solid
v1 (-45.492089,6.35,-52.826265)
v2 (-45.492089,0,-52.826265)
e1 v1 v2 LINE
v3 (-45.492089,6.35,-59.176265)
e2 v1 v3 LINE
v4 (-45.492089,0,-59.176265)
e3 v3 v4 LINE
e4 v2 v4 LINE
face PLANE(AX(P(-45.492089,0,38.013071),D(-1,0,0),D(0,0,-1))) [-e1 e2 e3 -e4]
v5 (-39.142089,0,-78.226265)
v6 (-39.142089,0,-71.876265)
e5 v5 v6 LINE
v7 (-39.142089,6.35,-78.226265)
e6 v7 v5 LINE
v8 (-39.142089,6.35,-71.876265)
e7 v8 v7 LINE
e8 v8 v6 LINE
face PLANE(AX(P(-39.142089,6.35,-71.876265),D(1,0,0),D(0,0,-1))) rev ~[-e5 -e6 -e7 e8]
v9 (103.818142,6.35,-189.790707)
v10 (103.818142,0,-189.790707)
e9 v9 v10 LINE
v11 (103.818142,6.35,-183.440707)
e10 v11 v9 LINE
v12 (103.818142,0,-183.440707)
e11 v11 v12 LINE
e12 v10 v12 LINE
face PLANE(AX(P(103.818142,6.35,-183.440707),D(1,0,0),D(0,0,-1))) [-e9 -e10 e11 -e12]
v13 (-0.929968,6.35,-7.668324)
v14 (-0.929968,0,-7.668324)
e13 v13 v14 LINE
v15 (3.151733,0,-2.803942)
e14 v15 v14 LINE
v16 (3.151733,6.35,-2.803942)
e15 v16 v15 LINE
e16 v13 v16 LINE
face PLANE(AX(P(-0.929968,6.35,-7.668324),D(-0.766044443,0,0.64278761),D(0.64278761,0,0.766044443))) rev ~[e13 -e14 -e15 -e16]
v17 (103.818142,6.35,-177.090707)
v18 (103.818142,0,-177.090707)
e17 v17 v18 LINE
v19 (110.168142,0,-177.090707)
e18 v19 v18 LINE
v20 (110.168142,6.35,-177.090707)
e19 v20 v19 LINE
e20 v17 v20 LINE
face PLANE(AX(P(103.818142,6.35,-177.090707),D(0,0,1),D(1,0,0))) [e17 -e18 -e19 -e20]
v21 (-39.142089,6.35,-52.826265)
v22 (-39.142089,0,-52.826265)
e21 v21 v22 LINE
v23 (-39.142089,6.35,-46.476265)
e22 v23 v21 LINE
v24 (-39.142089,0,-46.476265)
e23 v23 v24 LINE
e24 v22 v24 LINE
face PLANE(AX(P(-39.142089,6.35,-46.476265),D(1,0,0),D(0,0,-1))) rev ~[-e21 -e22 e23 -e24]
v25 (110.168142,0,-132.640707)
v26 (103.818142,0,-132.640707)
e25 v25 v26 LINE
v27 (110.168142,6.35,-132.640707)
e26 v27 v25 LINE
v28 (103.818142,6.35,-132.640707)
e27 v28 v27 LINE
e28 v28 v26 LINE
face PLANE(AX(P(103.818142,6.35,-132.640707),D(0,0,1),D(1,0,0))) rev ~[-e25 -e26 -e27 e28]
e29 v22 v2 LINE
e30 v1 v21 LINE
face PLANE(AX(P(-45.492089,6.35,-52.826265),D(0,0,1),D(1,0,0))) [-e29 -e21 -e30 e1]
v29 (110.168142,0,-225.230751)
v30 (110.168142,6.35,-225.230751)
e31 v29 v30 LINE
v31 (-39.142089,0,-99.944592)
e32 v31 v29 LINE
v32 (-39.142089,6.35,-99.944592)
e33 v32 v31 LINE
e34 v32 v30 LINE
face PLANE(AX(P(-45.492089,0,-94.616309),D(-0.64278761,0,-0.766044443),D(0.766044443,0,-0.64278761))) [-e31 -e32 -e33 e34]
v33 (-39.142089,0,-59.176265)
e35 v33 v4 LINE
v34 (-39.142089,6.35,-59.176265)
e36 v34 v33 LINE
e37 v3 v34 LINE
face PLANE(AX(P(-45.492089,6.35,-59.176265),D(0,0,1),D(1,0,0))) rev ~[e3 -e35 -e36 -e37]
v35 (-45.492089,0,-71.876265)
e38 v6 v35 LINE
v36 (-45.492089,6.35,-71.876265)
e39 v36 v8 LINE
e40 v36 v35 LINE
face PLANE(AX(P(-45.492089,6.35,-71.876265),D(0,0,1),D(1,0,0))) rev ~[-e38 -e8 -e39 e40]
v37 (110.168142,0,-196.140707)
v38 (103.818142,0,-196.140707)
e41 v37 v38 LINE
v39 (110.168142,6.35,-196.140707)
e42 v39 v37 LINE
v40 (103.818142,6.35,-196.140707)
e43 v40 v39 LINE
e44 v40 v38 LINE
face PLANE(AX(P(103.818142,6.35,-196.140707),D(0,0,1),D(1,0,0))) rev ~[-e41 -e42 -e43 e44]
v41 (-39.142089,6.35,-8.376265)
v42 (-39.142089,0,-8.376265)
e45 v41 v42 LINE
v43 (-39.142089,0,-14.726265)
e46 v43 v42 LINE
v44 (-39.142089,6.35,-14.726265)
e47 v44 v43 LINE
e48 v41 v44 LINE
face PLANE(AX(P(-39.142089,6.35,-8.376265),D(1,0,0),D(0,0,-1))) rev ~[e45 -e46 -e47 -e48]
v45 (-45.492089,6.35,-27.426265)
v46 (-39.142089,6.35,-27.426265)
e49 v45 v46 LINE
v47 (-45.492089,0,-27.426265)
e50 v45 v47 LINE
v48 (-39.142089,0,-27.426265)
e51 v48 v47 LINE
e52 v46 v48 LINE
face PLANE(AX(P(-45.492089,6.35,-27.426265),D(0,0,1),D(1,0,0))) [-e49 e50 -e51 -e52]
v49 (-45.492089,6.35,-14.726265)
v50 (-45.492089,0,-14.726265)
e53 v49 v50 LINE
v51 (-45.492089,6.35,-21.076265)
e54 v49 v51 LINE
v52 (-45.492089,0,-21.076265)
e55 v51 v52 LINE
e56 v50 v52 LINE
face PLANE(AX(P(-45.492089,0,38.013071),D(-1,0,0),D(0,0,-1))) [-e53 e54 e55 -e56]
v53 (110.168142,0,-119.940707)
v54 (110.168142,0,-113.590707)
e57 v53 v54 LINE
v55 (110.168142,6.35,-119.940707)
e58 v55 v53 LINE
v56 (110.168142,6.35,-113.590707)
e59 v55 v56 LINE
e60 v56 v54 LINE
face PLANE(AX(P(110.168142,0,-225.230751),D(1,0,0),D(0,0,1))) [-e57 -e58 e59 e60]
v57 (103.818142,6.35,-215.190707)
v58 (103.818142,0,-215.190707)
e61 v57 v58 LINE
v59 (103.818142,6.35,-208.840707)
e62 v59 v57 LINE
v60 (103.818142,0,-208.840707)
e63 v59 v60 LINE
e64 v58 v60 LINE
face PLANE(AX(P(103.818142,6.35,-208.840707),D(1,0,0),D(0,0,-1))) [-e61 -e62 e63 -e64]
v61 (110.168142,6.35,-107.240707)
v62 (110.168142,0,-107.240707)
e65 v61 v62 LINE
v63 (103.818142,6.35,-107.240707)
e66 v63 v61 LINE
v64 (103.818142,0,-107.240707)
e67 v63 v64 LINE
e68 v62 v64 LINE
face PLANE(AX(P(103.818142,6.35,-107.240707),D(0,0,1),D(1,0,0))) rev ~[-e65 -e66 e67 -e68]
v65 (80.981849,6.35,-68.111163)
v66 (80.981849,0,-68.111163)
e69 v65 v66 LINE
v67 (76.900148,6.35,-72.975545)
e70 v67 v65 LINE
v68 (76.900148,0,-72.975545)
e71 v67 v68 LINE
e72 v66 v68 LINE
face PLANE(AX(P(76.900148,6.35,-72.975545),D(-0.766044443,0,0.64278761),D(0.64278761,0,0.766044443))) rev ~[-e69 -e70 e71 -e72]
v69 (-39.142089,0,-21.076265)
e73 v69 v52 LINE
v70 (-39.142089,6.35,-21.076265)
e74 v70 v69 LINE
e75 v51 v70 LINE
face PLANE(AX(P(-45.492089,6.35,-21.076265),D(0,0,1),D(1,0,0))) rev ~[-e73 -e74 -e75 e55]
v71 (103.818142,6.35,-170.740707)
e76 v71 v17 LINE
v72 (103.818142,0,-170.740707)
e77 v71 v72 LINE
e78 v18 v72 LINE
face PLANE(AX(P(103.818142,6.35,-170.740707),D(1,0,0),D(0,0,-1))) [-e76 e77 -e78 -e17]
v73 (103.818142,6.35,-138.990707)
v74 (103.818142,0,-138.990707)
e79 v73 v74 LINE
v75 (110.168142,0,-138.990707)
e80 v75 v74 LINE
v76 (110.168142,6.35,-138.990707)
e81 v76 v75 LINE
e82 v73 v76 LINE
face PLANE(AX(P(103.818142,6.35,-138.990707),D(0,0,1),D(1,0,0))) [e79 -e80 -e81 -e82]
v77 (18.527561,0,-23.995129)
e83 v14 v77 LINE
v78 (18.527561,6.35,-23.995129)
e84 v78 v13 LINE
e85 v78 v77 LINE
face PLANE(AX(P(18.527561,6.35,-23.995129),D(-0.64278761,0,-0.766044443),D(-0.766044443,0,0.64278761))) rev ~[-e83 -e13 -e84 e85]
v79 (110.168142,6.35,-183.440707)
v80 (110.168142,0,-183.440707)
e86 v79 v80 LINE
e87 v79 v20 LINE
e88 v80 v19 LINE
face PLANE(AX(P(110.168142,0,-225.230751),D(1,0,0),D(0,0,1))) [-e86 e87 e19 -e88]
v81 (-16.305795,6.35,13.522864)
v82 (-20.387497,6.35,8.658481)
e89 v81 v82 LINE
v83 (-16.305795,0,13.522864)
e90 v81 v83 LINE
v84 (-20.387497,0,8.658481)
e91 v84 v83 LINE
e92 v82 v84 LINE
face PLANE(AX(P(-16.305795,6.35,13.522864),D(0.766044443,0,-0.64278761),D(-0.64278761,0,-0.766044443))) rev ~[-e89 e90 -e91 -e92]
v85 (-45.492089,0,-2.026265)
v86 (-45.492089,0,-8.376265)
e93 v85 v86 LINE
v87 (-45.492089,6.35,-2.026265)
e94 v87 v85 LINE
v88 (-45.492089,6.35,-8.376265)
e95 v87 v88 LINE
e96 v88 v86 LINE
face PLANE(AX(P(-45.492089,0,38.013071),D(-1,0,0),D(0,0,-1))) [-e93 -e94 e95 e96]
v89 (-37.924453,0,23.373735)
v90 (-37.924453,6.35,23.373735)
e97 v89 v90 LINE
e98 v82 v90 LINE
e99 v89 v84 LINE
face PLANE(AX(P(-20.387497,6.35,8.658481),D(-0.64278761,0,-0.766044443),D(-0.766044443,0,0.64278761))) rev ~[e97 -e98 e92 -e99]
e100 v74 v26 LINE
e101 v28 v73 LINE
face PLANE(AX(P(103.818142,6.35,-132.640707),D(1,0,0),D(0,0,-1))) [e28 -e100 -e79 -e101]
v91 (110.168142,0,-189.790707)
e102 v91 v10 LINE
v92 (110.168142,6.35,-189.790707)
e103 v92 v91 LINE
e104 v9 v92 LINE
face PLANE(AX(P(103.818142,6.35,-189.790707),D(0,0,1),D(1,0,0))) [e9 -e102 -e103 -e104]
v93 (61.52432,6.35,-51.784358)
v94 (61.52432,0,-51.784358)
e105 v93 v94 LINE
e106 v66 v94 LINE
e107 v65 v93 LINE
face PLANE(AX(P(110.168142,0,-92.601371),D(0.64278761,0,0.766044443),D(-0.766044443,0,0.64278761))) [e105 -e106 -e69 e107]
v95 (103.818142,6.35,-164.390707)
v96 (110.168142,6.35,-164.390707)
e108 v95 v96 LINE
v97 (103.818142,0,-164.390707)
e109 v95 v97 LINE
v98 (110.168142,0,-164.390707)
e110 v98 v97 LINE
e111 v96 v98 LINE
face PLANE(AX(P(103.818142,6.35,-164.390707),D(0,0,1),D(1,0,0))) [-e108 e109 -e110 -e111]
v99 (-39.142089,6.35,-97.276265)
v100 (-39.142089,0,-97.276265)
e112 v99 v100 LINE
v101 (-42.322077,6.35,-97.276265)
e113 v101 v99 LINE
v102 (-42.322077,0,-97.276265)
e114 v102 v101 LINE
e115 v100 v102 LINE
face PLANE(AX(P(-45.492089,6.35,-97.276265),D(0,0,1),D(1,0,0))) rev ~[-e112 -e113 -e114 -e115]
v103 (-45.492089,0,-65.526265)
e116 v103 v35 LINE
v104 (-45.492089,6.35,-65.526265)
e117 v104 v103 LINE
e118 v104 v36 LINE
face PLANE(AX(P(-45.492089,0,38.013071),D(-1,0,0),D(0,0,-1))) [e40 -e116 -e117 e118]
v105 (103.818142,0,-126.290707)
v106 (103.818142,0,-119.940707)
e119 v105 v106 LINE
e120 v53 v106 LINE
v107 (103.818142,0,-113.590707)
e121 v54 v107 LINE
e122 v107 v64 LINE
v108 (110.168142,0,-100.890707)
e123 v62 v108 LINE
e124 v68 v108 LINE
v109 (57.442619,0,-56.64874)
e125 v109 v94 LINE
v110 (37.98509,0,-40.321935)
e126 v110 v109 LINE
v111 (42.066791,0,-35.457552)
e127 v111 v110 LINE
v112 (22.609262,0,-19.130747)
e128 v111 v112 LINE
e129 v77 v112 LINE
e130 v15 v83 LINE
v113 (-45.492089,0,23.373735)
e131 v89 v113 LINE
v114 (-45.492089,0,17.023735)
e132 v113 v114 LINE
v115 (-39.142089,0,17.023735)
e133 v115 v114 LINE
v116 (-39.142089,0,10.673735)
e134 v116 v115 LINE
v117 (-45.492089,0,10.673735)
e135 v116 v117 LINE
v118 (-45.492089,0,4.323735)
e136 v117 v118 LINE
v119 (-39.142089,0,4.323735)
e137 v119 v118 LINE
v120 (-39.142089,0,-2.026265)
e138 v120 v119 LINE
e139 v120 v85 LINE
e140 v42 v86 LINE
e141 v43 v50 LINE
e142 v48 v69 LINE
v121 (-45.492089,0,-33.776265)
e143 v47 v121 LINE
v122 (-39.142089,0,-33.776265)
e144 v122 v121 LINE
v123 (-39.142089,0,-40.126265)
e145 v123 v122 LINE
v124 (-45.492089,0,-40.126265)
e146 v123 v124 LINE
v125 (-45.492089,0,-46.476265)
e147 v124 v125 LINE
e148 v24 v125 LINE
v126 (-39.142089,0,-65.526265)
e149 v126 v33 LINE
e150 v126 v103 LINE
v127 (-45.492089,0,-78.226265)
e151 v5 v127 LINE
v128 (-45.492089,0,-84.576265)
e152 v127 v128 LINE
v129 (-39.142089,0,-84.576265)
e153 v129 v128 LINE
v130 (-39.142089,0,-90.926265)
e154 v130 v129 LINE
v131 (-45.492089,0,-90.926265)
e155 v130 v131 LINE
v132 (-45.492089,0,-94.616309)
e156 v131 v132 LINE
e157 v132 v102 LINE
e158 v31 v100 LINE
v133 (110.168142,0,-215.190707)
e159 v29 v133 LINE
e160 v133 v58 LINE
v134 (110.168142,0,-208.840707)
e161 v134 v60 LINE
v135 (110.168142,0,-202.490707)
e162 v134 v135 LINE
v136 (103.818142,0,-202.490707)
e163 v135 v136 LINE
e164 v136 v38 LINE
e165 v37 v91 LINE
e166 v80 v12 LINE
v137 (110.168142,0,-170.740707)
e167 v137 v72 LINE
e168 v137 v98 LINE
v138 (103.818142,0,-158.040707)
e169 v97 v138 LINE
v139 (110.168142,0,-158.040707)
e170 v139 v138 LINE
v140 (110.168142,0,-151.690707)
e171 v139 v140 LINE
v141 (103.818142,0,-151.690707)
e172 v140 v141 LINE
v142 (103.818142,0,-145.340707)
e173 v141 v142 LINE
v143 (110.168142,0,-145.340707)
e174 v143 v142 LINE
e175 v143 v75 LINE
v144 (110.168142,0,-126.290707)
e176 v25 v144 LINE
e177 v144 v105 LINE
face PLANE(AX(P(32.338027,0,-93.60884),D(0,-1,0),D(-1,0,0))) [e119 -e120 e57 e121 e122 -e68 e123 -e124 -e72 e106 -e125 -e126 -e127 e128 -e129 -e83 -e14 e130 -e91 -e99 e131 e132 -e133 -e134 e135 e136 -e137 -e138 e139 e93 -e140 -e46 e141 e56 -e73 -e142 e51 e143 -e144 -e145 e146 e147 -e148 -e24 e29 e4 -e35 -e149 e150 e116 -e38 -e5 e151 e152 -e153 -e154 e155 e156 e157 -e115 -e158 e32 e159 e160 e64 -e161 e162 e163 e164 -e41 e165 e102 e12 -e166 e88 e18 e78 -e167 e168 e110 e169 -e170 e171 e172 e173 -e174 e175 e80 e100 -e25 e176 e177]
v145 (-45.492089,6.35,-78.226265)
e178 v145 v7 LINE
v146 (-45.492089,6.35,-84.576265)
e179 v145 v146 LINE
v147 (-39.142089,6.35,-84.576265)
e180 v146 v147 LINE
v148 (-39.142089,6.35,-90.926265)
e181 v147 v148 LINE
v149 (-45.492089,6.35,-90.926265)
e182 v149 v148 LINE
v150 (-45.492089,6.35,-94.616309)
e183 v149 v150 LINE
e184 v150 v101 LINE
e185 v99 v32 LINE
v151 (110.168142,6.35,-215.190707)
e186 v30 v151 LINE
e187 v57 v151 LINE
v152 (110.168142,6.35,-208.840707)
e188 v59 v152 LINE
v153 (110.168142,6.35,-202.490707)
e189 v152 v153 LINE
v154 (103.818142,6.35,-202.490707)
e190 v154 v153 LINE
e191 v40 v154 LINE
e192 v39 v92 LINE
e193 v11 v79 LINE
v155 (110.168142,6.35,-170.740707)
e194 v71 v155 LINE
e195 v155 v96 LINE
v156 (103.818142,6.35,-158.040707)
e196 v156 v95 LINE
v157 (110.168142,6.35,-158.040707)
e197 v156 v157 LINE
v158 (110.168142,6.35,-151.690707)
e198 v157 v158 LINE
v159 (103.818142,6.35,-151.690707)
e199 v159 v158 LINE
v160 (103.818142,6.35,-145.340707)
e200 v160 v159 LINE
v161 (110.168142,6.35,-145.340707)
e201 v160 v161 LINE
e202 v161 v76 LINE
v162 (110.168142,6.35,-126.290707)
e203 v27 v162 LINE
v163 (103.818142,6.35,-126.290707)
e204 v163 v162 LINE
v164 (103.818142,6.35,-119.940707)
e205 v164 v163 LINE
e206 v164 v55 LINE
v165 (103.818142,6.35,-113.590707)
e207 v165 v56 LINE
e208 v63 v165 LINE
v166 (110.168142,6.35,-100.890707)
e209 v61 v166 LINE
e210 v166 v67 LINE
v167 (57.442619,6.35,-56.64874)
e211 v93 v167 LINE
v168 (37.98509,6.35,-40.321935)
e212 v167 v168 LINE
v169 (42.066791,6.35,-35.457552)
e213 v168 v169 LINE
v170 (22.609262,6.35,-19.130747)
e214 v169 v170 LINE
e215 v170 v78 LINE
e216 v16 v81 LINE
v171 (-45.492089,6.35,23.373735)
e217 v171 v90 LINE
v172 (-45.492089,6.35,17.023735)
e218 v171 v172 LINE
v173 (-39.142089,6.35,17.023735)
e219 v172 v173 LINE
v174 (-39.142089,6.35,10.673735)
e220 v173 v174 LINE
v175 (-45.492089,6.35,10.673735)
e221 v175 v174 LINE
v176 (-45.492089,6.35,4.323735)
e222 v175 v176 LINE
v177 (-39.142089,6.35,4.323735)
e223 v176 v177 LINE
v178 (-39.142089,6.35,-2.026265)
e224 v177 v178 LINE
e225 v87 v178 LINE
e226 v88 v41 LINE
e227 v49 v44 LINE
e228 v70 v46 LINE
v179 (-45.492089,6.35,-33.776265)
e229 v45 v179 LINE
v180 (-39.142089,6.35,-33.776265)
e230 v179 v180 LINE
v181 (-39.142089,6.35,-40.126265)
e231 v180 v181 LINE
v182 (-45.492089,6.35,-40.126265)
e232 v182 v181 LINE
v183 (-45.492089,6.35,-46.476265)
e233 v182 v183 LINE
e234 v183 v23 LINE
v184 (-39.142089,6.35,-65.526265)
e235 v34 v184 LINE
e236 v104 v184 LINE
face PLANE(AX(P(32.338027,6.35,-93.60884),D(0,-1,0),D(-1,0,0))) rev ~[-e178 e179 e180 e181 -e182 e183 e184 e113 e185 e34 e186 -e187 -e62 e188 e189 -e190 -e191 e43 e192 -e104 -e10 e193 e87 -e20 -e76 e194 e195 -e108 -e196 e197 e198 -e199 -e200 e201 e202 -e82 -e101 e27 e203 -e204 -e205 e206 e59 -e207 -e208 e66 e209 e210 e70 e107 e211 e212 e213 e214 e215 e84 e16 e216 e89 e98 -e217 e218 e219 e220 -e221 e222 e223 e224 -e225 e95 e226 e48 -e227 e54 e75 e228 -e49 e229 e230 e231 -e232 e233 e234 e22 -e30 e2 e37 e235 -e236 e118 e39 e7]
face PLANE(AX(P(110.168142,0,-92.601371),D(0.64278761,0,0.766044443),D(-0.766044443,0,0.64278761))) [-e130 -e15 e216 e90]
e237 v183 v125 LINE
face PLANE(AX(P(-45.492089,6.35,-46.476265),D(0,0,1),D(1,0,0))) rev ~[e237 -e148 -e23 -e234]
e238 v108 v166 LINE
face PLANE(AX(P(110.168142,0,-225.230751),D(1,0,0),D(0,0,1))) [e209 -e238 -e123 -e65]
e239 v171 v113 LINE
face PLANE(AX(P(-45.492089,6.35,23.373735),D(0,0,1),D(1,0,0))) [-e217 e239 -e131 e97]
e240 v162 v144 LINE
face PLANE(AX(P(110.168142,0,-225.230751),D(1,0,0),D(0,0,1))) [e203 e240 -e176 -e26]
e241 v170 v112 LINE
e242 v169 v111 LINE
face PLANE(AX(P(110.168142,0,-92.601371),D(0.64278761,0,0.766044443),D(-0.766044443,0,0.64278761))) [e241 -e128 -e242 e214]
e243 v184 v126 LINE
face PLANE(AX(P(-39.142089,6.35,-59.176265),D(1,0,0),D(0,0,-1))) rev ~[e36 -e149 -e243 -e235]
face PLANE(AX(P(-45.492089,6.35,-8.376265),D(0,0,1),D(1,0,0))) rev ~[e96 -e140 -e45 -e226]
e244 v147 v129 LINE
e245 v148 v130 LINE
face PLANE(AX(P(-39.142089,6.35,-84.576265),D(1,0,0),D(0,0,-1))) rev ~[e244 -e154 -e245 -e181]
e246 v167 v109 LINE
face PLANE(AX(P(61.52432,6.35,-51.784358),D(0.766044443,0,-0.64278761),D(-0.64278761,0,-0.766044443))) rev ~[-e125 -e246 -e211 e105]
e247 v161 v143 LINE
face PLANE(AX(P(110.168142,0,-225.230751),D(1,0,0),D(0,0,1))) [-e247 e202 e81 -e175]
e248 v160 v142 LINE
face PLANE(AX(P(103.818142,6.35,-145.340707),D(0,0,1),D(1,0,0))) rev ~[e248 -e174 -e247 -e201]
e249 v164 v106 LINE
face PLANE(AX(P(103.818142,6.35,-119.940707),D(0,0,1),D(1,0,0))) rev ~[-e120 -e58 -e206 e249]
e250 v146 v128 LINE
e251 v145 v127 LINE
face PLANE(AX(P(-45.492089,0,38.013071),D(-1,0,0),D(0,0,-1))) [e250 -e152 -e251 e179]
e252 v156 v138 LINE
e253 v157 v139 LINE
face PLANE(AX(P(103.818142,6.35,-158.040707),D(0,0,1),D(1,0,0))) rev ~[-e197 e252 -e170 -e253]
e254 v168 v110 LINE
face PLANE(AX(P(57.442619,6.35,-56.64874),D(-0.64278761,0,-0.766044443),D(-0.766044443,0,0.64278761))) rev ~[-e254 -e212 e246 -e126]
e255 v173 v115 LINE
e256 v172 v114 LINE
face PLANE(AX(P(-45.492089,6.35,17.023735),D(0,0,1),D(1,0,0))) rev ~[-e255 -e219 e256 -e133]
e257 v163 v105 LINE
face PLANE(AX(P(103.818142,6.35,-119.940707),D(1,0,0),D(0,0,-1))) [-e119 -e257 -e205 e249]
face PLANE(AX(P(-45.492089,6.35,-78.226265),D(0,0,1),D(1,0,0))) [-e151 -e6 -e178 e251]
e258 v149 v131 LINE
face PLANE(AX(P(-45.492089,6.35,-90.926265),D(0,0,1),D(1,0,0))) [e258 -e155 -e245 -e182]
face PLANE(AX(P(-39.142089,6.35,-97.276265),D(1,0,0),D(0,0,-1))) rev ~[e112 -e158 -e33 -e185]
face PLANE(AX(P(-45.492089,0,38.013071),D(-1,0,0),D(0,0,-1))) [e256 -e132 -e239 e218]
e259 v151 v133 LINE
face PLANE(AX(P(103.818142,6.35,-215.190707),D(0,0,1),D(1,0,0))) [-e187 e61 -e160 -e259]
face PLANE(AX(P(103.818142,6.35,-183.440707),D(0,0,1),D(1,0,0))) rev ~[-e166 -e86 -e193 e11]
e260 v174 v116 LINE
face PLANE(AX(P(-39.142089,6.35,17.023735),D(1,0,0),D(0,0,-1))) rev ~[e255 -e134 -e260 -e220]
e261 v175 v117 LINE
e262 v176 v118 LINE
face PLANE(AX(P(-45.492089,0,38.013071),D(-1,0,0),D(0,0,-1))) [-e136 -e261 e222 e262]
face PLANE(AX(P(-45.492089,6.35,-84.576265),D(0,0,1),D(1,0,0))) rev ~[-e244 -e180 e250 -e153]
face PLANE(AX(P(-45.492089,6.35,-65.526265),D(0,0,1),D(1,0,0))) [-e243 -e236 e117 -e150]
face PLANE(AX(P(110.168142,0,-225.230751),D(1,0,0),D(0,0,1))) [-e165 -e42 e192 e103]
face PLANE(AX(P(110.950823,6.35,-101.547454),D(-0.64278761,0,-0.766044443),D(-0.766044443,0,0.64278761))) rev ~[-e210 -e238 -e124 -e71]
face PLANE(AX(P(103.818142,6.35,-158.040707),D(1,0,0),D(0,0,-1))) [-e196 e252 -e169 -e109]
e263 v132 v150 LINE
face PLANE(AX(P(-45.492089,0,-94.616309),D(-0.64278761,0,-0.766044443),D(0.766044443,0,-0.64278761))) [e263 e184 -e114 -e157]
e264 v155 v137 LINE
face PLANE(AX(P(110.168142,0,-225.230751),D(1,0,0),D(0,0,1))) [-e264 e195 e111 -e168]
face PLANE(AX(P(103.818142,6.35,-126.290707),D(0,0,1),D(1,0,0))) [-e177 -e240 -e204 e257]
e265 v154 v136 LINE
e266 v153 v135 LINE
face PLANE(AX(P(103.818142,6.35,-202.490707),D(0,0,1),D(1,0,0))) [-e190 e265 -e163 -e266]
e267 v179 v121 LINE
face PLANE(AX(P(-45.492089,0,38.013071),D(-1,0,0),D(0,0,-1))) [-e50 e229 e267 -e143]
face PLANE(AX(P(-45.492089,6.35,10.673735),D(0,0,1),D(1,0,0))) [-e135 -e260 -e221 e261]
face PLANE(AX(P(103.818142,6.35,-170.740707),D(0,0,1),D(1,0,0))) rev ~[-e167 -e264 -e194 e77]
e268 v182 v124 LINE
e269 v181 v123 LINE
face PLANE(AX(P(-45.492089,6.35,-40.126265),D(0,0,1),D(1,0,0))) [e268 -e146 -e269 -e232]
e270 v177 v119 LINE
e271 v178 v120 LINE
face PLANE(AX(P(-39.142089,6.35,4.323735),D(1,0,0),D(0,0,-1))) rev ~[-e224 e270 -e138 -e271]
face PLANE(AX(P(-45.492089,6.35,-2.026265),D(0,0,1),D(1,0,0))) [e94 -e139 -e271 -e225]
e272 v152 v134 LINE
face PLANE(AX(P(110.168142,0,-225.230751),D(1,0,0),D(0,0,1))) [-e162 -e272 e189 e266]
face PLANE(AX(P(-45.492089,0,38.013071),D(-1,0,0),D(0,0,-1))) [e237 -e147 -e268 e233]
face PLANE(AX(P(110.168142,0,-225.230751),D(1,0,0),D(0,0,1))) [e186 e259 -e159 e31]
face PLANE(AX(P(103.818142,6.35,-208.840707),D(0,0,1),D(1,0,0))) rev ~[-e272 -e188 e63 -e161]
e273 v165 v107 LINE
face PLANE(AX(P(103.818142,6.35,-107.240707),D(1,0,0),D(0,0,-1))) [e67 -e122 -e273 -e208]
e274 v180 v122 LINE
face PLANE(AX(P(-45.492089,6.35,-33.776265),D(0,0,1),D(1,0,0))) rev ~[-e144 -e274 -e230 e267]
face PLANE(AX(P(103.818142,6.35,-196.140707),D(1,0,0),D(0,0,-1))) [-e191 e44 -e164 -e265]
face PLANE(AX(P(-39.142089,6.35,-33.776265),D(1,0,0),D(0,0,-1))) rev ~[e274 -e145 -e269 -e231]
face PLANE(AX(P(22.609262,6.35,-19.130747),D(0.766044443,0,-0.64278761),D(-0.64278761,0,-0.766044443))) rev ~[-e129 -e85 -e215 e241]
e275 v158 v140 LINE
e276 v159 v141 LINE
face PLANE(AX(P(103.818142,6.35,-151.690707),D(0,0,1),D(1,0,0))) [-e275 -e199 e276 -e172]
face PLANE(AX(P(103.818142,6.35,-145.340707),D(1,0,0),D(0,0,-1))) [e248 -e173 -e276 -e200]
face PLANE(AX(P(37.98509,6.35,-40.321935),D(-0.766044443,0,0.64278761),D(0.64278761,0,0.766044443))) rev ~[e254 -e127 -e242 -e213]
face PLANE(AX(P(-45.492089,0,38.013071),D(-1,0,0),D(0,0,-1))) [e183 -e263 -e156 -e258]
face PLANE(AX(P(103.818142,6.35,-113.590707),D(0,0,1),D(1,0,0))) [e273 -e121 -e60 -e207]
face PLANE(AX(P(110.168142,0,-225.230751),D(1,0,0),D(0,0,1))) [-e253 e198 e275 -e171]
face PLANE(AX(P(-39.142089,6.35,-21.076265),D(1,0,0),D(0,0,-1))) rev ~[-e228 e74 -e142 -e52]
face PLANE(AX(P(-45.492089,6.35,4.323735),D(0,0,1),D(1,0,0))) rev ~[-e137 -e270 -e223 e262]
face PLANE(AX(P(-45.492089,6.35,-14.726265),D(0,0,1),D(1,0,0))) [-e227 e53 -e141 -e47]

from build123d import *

# Parameters (mm, degrees)
BOSS_EXTRUDE1_DEPTH = 6.35
CUT_EXTRUDE1_DEPTH  = 7.35
SKETCH3_W           = 6.35
SKETCH3_H           = 6.35
CUT_EXTRUDE2_DEPTH  = 7.35
SKETCH4_W           = 12.7
SKETCH4_H           = 6.35
SKETCH4_W_2         = 6.35
CUT_EXTRUDE3_DEPTH  = 7.35


with BuildPart() as part:
    # Sketch1 → Boss-Extrude1 (new body)
    with BuildSketch(Plane(origin=(0, 0, 0), x_dir=(1, 0, 0), z_dir=(0, 1, 0))):
        Polygon((-45.492088676, -38.013071454), (-45.492088676, 94.616309142), (110.168142166, 225.23075143), (110.168142166, 92.601370834), align=None)
    extrude(amount=BOSS_EXTRUDE1_DEPTH)

    # Sketch2 → Cut-Extrude1 (cut, through all)
    with BuildSketch(Plane(origin=(0, 6.35, 0), x_dir=(1, 0, 0), z_dir=(0, 1, 0))):
        Polygon((-45.492088676, -38.013071454), (-16.305795393, -13.522863525), (-20.387496714, -8.658481312), (-49.573789997, -33.148689241), align=None)
        Polygon((-0.929967859, 7.668323974), (3.151733462, 2.803941761), (22.609262318, 19.130747047), (18.527560996, 23.995129261), align=None)
        Polygon((37.985089851, 40.321934547), (42.066791173, 35.457552333), (61.524320028, 51.784357619), (57.442618706, 56.648739833), align=None)
        Polygon((80.981848883, 68.111162905), (115.03252438, 96.683072155), (110.950823058, 101.547454369), (76.900147562, 72.975545119), align=None)
    extrude(amount=-CUT_EXTRUDE1_DEPTH, mode=Mode.SUBTRACT)

    # Sketch3 → Cut-Extrude2 (cut, through all)
    with BuildSketch(Plane(origin=(0, 6.35, 0), x_dir=(1, 0, 0), z_dir=(0, 1, 0))):
        with Locations((106.993142166, 135.815707121)):
            Rectangle(SKETCH3_W, SKETCH3_H)
        with Locations((106.993142166, 123.115707121)):
            Rectangle(SKETCH3_W, SKETCH3_H)
        with Locations((106.993142166, 110.415707121)):
            Rectangle(SKETCH3_W, SKETCH3_H)
        with Locations((106.993142166, 148.515707121)):
            Rectangle(SKETCH3_W, SKETCH3_H)
        with Locations((106.993142166, 173.915707121)):
            Rectangle(SKETCH3_W, SKETCH3_H)
        with Locations((106.993142166, 186.615707121)):
            Rectangle(SKETCH3_W, SKETCH3_H)
        with Locations((106.993142166, 212.015707121)):
            Rectangle(SKETCH3_W, SKETCH3_H)
        with Locations((106.993142166, 161.215707121)):
            Rectangle(SKETCH3_W, SKETCH3_H)
        with Locations((106.993142166, 199.315707121)):
            Rectangle(SKETCH3_W, SKETCH3_H)
    extrude(amount=-CUT_EXTRUDE2_DEPTH, mode=Mode.SUBTRACT)

    # Sketch4 → Cut-Extrude3 (cut, through all)
    with BuildSketch(Plane(origin=(0, 6.35, 0), x_dir=(1, 0, 0), z_dir=(0, 1, 0))):
        with Locations((-39.142088676, -26.548735167)):
            Rectangle(SKETCH4_W, SKETCH4_H)
        with Locations((-42.317088676, -1.148735167)):
            Rectangle(SKETCH4_W_2, SKETCH4_H)
        with Locations((-42.317088676, -13.848735167)):
            Rectangle(SKETCH4_W_2, SKETCH4_H)
        with Locations((-42.317088676, 11.551264833)):
            Rectangle(SKETCH4_W_2, SKETCH4_H)
        with Locations((-42.317088676, 24.251264833)):
            Rectangle(SKETCH4_W_2, SKETCH4_H)
        with Locations((-42.317088676, 36.951264833)):
            Rectangle(SKETCH4_W_2, SKETCH4_H)
        with Locations((-42.317088676, 49.651264833)):
            Rectangle(SKETCH4_W_2, SKETCH4_H)
        with Locations((-42.317088676, 62.351264833)):
            Rectangle(SKETCH4_W_2, SKETCH4_H)
        with Locations((-42.317088676, 75.051264833)):
            Rectangle(SKETCH4_W_2, SKETCH4_H)
        with Locations((-42.317088676, 87.751264833)):
            Rectangle(SKETCH4_W_2, SKETCH4_H)
        with Locations((-42.317088676, 100.451264833)):
            Rectangle(SKETCH4_W_2, SKETCH4_H)
    extrude(amount=-CUT_EXTRUDE3_DEPTH, mode=Mode.SUBTRACT)


solid = part.part
